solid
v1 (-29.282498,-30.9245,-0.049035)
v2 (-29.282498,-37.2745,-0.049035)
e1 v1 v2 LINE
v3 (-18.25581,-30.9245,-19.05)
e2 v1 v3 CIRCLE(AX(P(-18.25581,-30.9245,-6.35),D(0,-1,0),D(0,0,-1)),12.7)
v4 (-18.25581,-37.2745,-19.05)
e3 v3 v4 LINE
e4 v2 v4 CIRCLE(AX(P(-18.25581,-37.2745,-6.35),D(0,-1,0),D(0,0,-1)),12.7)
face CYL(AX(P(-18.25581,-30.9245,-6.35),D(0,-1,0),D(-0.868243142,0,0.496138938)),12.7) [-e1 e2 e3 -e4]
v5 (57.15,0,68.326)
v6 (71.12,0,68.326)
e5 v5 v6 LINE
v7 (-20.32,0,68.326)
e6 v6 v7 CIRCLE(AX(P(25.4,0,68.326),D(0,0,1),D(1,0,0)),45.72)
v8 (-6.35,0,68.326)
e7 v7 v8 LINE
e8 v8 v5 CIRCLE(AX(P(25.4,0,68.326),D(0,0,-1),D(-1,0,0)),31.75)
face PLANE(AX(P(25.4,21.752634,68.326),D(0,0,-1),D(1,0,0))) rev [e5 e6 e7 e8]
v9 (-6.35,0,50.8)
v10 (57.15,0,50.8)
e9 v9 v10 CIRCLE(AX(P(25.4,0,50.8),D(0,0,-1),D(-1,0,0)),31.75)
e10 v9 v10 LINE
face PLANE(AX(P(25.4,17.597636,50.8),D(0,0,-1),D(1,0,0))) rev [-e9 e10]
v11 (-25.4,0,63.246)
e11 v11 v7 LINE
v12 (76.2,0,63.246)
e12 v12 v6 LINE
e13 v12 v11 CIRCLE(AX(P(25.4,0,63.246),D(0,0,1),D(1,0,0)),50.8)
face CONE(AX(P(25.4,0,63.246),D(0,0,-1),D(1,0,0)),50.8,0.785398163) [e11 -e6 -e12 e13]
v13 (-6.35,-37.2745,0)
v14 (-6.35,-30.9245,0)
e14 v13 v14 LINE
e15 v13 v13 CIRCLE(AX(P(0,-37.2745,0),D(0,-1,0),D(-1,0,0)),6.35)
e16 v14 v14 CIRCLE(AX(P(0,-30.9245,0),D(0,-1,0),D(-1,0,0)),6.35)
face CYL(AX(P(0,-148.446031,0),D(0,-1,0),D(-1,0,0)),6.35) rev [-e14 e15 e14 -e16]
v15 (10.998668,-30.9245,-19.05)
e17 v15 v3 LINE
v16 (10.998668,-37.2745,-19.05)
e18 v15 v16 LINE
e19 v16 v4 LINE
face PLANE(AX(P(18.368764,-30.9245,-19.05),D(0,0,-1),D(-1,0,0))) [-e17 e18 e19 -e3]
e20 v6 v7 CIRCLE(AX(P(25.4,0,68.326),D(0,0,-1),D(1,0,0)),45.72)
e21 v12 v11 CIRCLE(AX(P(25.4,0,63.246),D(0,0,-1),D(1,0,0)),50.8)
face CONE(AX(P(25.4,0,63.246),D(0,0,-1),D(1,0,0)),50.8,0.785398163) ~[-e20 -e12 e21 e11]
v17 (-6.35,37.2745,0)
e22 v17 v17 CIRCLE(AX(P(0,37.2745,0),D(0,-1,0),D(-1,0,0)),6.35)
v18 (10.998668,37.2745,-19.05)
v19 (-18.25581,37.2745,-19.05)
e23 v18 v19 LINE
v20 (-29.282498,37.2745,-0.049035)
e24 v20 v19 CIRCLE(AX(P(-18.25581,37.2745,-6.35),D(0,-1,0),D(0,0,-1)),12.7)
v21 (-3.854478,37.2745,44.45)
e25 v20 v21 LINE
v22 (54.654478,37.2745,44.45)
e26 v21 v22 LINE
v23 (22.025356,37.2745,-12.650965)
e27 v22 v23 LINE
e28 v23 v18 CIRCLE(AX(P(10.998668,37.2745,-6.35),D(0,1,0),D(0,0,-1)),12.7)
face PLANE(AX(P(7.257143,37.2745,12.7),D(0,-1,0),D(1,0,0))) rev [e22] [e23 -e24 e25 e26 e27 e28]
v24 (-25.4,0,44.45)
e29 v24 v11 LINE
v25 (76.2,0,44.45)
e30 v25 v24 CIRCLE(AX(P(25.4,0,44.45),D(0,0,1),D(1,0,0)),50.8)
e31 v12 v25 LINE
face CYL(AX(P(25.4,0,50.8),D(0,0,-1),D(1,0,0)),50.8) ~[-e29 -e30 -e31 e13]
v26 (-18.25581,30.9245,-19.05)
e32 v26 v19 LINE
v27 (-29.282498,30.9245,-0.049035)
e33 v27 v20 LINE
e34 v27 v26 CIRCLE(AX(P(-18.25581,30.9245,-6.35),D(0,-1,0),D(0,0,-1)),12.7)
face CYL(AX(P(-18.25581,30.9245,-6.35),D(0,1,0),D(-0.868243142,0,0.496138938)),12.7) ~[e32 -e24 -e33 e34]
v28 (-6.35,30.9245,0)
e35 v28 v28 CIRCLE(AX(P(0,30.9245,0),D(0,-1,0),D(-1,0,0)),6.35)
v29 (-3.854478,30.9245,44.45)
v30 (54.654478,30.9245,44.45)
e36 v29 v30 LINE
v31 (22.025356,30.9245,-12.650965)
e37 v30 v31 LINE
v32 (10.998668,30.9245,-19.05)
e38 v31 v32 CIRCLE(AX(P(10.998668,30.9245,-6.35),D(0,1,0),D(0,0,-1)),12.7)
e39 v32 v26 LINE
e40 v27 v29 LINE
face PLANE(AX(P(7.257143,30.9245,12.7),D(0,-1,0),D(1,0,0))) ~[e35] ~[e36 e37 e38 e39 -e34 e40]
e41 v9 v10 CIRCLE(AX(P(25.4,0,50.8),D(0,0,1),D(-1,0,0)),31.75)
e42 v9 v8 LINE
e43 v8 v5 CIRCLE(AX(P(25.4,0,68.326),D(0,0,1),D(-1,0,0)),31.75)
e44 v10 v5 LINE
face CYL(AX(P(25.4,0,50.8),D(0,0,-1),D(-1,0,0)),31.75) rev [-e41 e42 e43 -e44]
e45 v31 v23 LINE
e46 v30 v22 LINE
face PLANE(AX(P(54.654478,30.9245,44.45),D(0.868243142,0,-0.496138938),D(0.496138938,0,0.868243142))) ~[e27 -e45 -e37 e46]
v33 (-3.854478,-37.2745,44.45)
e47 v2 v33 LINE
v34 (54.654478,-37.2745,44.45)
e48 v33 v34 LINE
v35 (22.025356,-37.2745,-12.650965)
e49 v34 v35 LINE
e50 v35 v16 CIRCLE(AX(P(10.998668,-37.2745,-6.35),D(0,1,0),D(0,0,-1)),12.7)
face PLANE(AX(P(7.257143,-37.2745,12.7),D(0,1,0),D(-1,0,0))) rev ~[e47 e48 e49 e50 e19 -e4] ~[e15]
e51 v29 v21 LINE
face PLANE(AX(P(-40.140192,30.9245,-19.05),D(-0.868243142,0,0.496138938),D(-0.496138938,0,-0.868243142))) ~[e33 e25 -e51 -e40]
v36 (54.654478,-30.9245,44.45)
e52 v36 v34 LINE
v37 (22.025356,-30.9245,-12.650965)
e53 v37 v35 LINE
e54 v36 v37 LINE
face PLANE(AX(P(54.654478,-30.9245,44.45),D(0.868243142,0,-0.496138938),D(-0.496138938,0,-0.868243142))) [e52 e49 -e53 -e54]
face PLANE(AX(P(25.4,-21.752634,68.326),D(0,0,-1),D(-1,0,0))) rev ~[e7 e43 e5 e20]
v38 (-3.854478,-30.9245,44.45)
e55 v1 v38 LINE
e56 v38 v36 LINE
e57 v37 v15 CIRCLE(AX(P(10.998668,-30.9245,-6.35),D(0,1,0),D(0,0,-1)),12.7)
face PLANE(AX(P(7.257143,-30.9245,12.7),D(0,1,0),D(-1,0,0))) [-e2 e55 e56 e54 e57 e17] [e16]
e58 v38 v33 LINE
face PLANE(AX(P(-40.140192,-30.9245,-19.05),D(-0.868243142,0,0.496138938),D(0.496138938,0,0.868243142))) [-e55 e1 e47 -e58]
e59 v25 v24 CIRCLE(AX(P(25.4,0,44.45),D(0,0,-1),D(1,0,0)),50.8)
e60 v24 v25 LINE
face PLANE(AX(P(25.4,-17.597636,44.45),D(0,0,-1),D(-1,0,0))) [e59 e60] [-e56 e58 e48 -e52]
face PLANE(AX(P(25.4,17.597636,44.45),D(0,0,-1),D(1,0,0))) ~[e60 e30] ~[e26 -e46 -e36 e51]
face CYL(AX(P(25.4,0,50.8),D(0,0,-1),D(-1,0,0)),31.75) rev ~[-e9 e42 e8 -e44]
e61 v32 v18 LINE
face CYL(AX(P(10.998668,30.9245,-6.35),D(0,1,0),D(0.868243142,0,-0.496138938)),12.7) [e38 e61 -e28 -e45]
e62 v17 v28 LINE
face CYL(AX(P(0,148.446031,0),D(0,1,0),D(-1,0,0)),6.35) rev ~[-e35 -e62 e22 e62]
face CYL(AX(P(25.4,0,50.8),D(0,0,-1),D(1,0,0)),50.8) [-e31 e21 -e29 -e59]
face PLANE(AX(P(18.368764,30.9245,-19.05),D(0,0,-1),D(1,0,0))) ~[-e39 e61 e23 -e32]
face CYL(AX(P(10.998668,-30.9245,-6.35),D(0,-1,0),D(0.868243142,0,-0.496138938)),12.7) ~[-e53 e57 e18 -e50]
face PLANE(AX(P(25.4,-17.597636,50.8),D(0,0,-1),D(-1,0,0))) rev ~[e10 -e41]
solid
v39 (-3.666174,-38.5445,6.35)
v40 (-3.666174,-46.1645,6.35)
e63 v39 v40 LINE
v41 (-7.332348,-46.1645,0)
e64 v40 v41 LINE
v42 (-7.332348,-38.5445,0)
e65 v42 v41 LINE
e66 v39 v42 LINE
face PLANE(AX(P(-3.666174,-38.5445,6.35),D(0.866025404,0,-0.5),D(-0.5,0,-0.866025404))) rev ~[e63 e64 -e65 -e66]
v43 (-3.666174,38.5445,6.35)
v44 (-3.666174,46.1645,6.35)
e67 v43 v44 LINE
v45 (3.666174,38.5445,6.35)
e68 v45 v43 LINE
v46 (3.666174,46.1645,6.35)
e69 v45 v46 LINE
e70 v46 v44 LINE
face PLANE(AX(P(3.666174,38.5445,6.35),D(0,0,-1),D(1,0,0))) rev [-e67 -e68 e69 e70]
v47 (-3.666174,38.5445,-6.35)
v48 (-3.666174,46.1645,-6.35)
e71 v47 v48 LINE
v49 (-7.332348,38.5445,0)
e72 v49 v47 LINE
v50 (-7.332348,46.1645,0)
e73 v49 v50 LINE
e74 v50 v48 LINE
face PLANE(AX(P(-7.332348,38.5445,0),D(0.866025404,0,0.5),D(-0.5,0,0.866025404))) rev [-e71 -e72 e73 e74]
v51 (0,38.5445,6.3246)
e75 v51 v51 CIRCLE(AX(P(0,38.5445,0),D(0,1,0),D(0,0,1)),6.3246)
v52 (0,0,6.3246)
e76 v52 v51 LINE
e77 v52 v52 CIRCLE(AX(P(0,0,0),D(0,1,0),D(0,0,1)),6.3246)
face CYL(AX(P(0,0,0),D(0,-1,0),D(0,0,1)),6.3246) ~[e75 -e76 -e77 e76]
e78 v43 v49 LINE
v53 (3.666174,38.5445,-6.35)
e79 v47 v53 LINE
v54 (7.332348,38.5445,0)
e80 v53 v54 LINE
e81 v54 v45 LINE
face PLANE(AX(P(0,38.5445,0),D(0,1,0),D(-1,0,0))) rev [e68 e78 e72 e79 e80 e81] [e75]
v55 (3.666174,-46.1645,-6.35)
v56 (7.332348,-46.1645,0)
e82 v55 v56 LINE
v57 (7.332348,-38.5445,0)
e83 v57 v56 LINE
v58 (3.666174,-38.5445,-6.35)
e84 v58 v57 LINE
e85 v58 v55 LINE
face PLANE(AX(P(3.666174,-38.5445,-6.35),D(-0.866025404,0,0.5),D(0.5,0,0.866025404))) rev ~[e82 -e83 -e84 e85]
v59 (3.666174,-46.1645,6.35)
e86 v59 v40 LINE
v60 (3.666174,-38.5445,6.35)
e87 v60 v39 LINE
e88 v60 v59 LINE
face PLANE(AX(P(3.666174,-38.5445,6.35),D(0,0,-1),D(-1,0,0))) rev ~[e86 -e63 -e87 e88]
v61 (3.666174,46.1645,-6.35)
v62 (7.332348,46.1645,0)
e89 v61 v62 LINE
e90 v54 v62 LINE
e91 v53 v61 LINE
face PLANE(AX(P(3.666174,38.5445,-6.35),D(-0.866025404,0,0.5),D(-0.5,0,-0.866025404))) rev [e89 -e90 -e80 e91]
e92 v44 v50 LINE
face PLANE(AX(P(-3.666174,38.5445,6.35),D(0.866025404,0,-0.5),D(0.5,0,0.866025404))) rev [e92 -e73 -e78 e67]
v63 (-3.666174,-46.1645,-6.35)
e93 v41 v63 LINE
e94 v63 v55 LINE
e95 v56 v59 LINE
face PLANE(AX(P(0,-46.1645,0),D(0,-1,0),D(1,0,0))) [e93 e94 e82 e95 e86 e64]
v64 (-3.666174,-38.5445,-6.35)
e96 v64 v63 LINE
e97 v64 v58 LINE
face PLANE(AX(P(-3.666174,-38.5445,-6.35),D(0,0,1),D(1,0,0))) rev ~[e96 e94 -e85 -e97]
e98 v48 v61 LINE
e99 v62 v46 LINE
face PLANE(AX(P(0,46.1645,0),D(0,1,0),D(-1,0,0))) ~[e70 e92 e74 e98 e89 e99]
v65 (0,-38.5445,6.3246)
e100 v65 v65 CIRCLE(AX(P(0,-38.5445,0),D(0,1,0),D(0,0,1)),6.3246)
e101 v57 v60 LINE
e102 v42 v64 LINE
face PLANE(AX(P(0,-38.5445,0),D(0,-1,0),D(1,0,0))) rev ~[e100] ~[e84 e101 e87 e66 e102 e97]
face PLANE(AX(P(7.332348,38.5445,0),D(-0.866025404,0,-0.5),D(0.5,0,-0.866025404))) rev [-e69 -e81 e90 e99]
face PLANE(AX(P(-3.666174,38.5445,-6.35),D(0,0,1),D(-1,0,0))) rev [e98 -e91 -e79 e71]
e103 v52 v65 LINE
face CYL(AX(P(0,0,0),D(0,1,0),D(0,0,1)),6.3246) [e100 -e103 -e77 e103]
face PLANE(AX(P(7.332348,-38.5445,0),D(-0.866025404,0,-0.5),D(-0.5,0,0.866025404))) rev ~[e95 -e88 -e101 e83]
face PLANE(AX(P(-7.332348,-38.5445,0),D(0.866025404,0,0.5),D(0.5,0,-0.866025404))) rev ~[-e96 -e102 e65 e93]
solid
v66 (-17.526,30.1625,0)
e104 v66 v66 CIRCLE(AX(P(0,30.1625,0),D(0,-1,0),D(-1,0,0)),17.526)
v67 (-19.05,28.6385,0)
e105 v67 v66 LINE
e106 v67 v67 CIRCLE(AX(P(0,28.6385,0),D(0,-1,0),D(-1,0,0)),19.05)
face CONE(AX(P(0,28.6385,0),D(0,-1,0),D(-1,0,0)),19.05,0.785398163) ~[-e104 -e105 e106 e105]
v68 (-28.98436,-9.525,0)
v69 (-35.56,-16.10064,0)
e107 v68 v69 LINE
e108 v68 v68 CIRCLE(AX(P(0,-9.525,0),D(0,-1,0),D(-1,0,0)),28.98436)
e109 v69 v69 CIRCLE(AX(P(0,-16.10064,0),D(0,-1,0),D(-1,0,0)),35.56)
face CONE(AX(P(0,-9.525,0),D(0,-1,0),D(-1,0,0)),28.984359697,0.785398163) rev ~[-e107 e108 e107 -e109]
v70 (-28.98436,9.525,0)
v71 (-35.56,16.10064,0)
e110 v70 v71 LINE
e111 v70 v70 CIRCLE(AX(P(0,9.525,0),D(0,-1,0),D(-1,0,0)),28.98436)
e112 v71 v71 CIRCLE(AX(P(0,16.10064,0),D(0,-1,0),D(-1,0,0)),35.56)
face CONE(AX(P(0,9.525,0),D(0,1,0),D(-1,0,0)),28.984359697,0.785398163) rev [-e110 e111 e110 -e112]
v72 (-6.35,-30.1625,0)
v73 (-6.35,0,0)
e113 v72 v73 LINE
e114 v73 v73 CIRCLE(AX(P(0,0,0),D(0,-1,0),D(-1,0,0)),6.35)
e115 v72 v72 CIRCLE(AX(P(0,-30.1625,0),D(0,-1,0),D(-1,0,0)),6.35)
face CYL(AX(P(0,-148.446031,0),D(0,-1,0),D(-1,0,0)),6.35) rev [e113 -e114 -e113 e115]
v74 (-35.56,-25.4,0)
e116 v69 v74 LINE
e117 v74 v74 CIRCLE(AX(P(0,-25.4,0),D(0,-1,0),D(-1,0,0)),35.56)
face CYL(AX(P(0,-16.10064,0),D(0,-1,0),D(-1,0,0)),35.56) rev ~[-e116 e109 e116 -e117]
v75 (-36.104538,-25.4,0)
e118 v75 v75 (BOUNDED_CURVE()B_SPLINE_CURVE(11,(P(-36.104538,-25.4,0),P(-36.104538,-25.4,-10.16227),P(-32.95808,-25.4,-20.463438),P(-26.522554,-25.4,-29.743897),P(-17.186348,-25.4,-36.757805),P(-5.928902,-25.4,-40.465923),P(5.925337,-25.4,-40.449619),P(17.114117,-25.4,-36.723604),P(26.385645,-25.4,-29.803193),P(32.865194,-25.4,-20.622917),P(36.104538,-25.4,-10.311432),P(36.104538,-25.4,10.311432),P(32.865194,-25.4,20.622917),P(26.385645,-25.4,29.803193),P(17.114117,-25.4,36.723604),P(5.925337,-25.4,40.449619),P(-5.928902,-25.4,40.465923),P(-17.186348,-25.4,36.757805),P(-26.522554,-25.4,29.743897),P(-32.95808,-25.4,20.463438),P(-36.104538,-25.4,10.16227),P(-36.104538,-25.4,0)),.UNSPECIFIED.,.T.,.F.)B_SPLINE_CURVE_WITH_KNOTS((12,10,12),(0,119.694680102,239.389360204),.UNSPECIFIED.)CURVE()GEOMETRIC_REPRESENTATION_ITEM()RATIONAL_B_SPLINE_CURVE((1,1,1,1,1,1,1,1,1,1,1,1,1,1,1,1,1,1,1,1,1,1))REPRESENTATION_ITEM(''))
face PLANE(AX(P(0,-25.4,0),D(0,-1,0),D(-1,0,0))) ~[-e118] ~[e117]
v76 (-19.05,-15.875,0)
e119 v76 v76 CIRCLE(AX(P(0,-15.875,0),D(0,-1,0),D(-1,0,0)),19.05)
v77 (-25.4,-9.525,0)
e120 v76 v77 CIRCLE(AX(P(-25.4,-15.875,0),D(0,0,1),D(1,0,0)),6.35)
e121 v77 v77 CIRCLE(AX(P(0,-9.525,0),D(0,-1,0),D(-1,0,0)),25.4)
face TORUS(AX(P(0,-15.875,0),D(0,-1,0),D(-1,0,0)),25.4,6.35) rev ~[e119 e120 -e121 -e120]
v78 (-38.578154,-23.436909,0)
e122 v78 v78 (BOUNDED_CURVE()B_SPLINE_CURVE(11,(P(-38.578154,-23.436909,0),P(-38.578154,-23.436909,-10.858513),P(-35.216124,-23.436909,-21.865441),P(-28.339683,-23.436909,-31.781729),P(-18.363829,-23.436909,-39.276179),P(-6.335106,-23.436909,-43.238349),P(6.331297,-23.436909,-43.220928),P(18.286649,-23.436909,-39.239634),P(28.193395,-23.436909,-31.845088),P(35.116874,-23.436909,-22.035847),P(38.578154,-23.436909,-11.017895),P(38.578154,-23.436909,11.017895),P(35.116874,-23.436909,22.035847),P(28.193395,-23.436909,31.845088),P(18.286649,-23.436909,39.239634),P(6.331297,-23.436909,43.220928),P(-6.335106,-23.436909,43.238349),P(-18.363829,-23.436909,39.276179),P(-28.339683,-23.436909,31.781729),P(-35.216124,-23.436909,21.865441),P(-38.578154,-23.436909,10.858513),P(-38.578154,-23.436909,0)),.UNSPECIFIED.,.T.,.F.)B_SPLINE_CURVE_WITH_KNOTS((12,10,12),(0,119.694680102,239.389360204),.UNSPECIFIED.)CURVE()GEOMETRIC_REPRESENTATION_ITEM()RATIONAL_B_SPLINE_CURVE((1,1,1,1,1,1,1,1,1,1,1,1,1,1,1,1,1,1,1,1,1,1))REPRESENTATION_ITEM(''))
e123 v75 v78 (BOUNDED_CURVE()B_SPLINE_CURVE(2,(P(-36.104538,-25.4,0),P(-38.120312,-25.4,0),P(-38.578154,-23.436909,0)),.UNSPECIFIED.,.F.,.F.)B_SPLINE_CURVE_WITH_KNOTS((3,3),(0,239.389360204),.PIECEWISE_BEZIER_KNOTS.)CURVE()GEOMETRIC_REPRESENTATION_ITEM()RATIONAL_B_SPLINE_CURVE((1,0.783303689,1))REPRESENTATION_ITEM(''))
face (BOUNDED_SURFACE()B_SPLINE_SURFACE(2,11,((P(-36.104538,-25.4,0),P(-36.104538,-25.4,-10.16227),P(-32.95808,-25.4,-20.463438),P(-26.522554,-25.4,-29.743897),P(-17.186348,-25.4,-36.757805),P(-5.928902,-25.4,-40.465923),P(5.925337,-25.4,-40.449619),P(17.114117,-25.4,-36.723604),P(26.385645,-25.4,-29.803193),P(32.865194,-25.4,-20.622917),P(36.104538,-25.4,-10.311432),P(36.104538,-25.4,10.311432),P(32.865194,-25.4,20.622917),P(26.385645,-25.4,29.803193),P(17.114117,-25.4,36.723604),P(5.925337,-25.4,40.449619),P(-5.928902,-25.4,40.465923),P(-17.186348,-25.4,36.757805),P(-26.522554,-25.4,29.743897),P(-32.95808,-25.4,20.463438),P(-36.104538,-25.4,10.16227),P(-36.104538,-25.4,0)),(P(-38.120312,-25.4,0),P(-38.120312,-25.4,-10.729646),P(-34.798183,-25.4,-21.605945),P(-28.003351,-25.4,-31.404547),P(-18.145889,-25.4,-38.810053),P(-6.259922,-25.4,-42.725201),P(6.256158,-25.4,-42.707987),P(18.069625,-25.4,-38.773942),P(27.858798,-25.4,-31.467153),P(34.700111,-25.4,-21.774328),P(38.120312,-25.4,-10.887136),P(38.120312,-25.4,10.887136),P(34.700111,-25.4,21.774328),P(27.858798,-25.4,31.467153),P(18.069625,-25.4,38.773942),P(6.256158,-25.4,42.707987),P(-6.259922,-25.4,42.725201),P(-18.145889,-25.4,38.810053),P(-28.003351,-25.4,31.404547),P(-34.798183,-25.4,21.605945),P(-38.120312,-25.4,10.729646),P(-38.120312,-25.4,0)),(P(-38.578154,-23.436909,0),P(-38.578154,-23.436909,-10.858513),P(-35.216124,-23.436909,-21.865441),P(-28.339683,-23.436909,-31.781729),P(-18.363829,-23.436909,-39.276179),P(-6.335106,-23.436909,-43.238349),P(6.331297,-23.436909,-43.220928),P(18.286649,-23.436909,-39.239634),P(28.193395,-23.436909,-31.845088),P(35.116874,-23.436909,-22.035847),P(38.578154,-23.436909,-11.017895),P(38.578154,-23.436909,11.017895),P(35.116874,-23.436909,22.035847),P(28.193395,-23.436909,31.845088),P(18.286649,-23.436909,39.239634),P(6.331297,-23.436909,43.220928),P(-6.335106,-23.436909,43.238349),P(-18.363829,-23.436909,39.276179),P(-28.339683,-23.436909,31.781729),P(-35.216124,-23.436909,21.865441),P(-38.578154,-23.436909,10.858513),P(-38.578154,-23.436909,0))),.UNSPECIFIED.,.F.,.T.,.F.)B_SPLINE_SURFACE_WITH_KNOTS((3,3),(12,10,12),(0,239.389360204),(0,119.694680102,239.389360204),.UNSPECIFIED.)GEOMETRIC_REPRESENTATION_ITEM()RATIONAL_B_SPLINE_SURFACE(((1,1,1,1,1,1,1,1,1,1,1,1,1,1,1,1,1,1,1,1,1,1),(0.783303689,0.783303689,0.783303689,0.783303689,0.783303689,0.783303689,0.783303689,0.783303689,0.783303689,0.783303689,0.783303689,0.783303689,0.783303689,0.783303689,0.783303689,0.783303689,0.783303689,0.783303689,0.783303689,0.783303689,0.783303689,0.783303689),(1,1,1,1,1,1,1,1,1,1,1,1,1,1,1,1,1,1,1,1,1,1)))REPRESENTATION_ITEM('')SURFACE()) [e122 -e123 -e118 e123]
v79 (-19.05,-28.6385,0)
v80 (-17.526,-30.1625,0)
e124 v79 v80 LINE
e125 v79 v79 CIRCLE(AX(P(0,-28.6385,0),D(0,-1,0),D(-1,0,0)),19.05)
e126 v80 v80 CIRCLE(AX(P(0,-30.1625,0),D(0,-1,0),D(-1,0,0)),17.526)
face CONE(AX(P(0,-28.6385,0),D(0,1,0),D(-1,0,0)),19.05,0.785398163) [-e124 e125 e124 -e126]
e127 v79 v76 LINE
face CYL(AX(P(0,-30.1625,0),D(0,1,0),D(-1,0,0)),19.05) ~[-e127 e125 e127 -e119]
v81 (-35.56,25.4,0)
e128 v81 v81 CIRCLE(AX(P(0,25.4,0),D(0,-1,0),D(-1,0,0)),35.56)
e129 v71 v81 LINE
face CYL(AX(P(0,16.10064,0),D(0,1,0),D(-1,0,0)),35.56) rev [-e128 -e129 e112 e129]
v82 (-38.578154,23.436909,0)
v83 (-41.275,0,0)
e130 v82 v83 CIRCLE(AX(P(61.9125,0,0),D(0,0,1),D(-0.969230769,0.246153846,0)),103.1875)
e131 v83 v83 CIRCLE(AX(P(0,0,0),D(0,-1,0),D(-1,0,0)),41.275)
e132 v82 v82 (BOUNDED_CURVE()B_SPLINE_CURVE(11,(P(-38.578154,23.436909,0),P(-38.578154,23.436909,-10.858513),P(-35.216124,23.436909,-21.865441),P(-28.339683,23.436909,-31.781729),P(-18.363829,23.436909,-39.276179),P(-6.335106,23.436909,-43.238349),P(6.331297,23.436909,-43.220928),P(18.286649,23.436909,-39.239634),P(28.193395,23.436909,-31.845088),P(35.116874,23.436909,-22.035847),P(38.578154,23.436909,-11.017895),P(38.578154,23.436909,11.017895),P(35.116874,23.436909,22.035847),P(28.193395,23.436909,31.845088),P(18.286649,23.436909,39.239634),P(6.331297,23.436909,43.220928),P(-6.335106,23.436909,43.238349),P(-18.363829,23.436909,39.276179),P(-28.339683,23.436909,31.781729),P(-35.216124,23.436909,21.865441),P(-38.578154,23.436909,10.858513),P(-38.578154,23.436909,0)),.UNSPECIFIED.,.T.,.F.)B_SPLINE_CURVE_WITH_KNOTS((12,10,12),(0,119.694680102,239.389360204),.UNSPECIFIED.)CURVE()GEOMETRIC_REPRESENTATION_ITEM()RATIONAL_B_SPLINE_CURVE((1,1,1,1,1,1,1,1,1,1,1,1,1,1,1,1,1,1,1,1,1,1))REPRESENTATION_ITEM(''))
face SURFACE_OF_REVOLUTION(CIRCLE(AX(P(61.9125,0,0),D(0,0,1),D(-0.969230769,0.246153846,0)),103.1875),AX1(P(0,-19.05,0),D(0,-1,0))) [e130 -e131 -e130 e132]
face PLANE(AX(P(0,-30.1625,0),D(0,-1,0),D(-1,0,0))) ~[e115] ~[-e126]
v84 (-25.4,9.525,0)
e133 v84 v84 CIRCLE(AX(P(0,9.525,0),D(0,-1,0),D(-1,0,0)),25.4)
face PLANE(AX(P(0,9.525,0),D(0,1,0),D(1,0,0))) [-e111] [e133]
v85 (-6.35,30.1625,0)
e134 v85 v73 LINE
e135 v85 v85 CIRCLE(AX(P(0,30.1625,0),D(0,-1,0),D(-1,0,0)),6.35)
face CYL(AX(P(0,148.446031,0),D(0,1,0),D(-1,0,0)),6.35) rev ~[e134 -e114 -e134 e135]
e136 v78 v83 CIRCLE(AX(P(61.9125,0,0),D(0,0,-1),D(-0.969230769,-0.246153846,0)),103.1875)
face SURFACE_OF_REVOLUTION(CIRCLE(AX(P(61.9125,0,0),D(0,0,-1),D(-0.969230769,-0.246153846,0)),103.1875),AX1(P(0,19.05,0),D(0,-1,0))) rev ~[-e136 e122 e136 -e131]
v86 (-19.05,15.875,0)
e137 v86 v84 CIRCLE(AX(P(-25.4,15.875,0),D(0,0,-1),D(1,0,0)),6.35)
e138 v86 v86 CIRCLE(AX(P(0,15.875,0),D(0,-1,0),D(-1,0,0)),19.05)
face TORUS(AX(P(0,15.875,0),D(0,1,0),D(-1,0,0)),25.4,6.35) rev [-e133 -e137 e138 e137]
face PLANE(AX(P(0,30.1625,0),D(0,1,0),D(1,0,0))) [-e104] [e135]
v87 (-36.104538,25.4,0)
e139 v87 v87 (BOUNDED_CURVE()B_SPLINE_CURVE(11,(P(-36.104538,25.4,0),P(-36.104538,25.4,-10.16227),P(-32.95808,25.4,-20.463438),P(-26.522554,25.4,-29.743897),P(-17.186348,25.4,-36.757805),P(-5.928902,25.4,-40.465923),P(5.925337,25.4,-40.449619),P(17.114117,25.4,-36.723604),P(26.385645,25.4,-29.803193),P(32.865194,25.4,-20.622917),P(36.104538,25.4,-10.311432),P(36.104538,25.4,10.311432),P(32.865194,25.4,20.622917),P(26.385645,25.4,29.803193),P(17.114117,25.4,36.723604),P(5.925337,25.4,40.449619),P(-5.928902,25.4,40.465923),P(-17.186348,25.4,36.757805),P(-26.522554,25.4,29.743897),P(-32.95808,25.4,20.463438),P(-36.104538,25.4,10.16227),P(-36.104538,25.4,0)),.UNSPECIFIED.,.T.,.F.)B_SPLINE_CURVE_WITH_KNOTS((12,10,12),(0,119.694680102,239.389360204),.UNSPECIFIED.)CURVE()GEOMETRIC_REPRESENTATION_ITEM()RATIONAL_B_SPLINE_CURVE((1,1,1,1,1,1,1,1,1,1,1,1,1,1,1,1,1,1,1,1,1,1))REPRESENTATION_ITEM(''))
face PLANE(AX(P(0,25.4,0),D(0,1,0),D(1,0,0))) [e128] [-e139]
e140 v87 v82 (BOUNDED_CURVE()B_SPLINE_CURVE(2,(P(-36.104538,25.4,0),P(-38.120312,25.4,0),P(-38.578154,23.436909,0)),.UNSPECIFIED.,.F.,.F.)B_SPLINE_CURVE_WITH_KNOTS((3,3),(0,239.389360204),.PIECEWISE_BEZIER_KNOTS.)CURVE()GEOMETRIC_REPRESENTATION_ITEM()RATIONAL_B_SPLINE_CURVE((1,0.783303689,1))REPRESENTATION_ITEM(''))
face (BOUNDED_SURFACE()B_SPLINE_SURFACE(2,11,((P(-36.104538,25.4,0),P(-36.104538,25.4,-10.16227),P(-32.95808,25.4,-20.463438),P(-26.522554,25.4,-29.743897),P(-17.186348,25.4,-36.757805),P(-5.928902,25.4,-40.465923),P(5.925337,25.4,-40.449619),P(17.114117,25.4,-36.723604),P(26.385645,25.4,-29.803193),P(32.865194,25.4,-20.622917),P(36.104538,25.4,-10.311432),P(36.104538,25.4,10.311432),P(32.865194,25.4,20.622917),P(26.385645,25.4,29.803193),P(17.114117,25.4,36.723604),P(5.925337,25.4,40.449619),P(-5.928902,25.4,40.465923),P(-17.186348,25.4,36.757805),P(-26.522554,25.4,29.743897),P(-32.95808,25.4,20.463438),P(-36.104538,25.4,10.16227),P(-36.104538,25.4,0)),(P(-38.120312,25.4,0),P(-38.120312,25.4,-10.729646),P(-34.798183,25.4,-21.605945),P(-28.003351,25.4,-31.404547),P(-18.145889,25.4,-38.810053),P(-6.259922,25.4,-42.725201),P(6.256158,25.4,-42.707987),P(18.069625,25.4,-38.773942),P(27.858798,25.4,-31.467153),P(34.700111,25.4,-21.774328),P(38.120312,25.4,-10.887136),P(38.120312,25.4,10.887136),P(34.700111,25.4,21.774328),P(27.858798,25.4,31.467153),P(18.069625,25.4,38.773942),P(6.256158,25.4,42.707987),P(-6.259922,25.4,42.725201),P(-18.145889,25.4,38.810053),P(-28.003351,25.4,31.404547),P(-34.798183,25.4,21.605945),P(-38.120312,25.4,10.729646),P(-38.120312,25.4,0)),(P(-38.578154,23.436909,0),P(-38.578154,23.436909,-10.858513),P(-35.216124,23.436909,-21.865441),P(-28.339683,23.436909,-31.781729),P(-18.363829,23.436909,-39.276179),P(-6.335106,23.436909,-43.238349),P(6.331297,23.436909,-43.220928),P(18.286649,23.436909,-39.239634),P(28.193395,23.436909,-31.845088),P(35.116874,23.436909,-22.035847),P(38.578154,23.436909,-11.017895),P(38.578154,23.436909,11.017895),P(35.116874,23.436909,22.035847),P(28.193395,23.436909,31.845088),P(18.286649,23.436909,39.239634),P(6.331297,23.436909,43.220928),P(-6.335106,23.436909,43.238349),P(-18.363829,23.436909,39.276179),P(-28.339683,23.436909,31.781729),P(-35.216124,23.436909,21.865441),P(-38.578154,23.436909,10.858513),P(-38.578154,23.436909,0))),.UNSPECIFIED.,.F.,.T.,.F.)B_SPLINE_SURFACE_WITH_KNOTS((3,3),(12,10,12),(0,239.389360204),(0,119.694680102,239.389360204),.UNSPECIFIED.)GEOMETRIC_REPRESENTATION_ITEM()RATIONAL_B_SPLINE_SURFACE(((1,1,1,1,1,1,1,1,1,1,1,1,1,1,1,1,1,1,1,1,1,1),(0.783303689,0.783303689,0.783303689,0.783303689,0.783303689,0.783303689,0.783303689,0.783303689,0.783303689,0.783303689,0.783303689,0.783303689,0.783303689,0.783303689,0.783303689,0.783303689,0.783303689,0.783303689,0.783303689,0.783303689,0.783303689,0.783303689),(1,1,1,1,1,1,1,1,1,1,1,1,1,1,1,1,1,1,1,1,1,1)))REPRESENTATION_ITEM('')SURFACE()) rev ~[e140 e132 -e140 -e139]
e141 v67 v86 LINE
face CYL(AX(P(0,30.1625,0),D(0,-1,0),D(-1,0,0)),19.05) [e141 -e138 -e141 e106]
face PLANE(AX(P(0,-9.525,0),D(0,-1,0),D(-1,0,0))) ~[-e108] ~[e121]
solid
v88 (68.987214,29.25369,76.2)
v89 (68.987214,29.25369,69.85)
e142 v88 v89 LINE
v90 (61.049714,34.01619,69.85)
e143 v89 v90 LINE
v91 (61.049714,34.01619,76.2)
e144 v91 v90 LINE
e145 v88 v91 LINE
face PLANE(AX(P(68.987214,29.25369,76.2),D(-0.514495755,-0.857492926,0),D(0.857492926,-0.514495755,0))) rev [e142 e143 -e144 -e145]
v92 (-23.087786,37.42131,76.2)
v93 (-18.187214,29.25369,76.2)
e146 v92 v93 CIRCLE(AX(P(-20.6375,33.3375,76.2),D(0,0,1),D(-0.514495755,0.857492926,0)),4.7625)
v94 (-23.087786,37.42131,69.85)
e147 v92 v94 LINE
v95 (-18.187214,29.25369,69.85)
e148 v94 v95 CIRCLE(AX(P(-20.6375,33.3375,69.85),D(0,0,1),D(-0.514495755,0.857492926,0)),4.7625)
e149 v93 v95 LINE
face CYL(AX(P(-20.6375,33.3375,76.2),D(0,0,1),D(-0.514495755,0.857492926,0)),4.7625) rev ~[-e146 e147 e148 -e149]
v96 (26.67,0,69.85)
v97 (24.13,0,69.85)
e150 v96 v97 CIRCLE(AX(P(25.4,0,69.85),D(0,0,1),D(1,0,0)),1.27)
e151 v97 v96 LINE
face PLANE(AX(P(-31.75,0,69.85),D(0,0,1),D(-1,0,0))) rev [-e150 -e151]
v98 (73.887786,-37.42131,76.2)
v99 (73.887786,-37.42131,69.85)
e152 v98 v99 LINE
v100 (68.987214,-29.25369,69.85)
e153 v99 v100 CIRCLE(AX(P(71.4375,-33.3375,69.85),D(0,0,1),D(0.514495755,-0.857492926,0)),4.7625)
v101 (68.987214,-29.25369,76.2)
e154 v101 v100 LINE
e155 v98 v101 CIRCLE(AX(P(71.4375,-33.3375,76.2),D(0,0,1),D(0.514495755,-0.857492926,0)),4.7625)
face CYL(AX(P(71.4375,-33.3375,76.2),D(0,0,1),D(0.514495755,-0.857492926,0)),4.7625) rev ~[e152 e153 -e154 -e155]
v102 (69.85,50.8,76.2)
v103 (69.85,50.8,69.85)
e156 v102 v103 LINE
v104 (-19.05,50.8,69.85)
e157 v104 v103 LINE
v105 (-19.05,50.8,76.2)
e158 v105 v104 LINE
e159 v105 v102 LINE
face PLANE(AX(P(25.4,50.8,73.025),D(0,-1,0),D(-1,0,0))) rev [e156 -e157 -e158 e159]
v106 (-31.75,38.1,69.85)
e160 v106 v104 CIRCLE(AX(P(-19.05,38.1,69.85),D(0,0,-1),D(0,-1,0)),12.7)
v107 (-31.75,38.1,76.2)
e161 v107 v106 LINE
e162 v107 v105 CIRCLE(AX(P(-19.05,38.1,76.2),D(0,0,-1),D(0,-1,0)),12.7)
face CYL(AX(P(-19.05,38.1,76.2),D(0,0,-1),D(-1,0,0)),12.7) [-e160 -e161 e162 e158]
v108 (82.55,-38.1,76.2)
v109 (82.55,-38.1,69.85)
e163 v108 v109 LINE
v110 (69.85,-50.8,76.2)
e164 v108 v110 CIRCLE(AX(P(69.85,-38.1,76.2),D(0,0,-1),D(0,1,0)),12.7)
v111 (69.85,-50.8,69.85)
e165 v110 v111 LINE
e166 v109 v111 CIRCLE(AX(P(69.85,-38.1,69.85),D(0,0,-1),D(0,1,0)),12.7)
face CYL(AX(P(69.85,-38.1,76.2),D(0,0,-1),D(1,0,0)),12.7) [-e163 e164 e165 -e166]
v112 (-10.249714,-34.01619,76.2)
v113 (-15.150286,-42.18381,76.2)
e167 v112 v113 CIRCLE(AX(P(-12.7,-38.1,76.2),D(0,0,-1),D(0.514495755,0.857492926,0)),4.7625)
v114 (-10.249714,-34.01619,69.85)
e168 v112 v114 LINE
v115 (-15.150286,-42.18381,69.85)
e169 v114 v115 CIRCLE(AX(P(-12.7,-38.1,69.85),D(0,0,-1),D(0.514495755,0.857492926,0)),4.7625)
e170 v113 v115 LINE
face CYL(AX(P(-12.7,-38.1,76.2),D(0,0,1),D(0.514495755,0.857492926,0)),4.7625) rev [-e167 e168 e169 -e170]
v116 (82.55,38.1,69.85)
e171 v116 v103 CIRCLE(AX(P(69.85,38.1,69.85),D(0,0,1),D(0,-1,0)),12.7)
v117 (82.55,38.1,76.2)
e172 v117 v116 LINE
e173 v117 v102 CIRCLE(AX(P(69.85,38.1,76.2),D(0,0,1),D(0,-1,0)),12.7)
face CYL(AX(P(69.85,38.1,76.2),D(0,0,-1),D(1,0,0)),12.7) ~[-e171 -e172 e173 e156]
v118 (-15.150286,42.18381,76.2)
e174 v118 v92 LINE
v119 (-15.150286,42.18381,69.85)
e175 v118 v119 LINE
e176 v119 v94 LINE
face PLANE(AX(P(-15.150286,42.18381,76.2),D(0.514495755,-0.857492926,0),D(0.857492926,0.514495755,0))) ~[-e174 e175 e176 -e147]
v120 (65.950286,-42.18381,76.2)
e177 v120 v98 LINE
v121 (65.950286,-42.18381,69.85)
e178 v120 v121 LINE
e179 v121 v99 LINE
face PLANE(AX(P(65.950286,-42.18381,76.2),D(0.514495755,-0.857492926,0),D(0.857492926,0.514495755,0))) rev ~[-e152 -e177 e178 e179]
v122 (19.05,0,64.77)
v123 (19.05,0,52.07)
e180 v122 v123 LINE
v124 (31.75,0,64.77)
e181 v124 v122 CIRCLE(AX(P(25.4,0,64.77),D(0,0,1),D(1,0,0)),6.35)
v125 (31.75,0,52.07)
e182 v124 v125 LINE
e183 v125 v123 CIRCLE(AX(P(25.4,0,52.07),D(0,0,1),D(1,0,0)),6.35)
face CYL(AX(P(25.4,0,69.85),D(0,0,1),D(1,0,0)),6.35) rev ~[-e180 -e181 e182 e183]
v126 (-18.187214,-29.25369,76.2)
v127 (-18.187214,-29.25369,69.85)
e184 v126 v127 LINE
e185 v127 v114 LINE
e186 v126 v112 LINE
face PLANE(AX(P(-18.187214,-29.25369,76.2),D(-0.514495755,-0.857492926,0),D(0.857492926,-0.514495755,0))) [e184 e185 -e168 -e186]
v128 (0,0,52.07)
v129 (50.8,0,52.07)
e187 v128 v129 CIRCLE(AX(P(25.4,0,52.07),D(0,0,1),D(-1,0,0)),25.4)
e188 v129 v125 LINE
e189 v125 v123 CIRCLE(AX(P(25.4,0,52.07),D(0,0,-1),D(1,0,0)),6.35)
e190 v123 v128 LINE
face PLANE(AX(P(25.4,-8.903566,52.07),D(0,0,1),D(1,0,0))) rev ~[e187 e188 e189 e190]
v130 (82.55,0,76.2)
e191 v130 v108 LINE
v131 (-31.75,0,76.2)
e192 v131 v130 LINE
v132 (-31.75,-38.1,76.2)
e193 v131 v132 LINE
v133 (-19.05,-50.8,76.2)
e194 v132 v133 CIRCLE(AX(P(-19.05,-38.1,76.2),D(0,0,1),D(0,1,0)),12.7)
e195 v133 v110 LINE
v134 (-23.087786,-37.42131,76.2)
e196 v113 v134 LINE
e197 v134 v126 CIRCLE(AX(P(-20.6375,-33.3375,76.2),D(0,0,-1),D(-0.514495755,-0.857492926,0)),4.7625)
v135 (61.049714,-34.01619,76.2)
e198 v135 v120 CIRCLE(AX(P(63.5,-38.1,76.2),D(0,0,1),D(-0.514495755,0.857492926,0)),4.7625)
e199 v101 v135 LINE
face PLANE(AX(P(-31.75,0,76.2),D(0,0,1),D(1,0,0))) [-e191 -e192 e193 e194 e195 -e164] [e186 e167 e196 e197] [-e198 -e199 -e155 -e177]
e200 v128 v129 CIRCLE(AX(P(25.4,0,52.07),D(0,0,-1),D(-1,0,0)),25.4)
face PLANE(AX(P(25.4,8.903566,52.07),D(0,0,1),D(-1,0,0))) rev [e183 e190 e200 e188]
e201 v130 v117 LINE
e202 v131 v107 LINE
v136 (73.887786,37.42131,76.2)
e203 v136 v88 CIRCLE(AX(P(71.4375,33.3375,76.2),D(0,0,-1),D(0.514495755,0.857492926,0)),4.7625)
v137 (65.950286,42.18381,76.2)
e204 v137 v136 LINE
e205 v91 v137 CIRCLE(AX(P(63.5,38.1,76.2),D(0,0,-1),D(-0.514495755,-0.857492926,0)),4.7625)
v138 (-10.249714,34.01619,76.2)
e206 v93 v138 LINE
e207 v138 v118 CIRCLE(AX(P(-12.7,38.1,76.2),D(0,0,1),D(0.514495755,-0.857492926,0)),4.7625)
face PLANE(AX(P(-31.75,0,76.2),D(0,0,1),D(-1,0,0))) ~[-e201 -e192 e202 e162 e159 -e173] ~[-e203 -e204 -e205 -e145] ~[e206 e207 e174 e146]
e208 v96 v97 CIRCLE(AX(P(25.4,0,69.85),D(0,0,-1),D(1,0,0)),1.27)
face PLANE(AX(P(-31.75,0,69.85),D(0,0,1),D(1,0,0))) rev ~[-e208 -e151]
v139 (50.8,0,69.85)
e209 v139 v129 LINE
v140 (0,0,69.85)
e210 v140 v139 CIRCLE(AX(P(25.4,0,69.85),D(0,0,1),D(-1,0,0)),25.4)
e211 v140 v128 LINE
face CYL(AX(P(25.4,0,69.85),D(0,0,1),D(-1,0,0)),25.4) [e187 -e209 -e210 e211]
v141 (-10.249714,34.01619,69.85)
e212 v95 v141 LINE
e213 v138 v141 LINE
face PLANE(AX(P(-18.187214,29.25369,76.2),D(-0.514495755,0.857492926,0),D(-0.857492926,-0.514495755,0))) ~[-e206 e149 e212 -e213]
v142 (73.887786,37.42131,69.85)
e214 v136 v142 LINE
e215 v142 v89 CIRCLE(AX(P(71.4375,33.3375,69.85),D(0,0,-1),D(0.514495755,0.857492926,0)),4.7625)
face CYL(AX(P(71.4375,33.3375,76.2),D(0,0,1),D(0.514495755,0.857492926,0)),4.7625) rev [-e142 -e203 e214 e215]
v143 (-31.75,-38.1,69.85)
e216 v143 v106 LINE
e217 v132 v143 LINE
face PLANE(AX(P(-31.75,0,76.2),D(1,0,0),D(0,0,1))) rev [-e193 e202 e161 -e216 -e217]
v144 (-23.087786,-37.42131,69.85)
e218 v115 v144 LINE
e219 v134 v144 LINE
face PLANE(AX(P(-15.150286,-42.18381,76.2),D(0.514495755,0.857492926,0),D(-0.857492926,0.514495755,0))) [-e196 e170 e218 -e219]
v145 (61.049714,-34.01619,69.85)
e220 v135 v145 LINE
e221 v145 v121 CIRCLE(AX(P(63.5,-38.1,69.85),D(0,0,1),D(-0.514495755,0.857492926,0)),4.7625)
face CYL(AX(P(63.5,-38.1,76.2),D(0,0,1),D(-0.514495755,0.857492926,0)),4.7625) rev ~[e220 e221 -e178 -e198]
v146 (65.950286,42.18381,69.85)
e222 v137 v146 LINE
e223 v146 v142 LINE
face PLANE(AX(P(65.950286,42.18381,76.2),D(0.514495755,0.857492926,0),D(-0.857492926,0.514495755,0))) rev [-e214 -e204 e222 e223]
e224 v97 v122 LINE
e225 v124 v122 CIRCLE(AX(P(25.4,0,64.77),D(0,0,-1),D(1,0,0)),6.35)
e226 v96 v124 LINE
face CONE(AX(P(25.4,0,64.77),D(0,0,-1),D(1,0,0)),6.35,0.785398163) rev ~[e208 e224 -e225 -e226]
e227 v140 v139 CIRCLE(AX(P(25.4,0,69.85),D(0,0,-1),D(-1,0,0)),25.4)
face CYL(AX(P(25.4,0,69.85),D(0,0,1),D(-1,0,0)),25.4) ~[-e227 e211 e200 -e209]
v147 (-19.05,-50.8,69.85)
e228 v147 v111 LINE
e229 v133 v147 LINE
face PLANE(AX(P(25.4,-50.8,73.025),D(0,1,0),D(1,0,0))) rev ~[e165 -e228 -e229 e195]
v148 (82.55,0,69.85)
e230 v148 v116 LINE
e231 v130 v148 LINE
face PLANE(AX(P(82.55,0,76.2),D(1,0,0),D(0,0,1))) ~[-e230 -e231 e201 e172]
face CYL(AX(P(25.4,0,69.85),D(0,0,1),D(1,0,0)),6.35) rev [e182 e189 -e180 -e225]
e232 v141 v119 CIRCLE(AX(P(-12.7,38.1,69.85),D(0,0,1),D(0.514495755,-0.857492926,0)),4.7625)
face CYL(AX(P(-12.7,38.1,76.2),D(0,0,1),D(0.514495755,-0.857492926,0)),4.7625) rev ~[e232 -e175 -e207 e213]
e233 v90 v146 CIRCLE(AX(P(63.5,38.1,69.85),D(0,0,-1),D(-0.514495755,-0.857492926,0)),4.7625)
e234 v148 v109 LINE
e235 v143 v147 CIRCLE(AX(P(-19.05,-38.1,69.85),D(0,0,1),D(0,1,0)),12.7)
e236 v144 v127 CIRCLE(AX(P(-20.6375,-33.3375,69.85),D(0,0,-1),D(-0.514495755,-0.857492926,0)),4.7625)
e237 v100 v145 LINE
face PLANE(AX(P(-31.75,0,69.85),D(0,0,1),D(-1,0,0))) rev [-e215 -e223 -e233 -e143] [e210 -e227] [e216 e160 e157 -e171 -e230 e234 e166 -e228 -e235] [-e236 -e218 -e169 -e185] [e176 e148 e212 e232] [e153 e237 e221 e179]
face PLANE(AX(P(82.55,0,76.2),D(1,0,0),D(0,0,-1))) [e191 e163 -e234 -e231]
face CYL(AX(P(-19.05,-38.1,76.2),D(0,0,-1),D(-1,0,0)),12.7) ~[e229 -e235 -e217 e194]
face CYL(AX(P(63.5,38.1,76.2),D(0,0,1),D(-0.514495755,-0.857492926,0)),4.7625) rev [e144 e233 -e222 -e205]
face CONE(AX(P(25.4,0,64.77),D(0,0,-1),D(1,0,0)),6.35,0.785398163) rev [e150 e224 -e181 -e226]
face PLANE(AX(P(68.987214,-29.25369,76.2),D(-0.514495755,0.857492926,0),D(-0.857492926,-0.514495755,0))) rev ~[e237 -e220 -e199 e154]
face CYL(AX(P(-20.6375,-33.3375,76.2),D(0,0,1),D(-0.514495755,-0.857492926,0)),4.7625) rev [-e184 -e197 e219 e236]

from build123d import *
from build123d.topology import SkipClean

# Parameters (mm, degrees)
FILLET4_R               = 2.54
CHAMFER1_SIZE           = 1.524
EXTRUDE1_DEPTH          = 6.35
FILLET5_R               = 12.7
SKETCH7_W               = 114.3
SKETCH7_H               = 6.35
EXTRUDE2_DEPTH          = 50.8
EXTRUDE8_DEPTH          = 6.35
EXTRUDE3_DEPTH          = 17.526
CHAMFER2_SIZE           = 5.08
EXTRUDE4_DEPTH          = 17.78
CHAMFER3_SIZE           = 5.08
CUT_EXTRUDE1_DEPTH      = 6.35
FILLET1_R               = 12.7
CUT_EXTRUDE2_DEPTH      = 117.521531085
CUT_EXTRUDE2_DEPTH_BACK = 117.521531085
SKETCH11_R              = 6.35
SKETCH12_R              = 6.3246
EXTRUDE5_DEPTH          = 38.5445
EXTRUDE6_DEPTH          = 7.62


with BuildPart() as part:
    # Sketch1 → Revolve1 (revolve)
    with BuildSketch(Plane.XY, mode=Mode.PRIVATE) as revolve1_sk:
        with BuildLine():
            Line((0, 0), (0, -30.1625))
            Line((0, -30.1625), (19.05, -30.1625))
            Line((19.05, -30.1625), (19.05, -15.875))
            ThreePointArc((19.05, -15.875), (20.909871939, -11.384871939), (25.4, -9.525))
            Line((25.4, -9.525), (28.984359697, -9.525))
            Line((28.984359697, -9.525), (35.56, -16.100640303))
            Line((35.56, -16.100640303), (35.56, -25.4))
            Line((35.56, -25.4), (38.1, -25.4))
            ThreePointArc((38.1, -25.4), (40.478173403, -12.798834175), (41.275, 0))
            Line((41.275, 0), (0, 0))
        make_face()
    revolve(revolve1_sk.sketch.rotate(Axis((0, 19.05, 0), (0, -1, 0)), 180), axis=Axis((0, 19.05, 0), (0, -1, 0)))

    # Fillet4
    fillet4_edges = [part.edges().sort_by_distance(p)[0] for p in [
        (38.1, -25.4, 0),
    ]]
    fillet(fillet4_edges, radius=FILLET4_R)

    # Chamfer1
    chamfer1_edges = [part.edges().sort_by_distance(p)[0] for p in [
        (19.05, -30.1625, 0),
    ]]
    chamfer(chamfer1_edges, length=CHAMFER1_SIZE)


with BuildPart() as body_2:
    # Sketch3 → Extrude1 (new body)
    with BuildSketch(Plane.XZ.offset(30.9245)):
        Polygon((-40.140192401, -19.05), (-3.854478115, 44.45), (54.654478115, 44.45), (18.36876383, -19.05), align=None)
    extrude(amount=EXTRUDE1_DEPTH)

    # Fillet5
    fillet5_edges = [body_2.edges().sort_by_distance(p)[0] for p in [
        (-40.140192401, -34.0995, -19.05),
        (18.36876383, -34.0995, -19.05),
    ]]
    fillet(fillet5_edges, radius=FILLET5_R)

    # Sketch20 → Extrude8 (add)
    with BuildSketch(Plane.XY.offset(44.45)):
        with BuildLine():
            Line((-25.4, 0), (76.2, 0))
            ThreePointArc((76.2, 0), (25.4, -50.8), (-25.4, 0))
        make_face()
    extrude(amount=EXTRUDE8_DEPTH)

    # Sketch8 → Extrude3 (add)
    with BuildSketch(Plane.XY.offset(50.8)):
        with BuildLine():
            Line((-25.4, 0), (-6.35, 0))
            ThreePointArc((-6.35, 0), (25.4, -31.75), (57.15, 0))
            Line((57.15, 0), (76.2, 0))
            ThreePointArc((76.2, 0), (25.4, -50.8), (-25.4, 0))
        make_face()
    extrude(amount=EXTRUDE3_DEPTH)

    # Chamfer2
    chamfer2_edges = [body_2.edges().sort_by_distance(p)[0] for p in [
        (25.4, -50.8, 68.326),
    ]]
    chamfer(chamfer2_edges, length=CHAMFER2_SIZE)


with BuildPart() as body_3:
    # Sketch7 → Extrude2 (new body)
    with BuildSketch(Plane(origin=(0, 0, 0), x_dir=(1, 0, 0), z_dir=(0, 1, 0))):
        with Locations((25.4, -73.025)):
            Rectangle(SKETCH7_W, SKETCH7_H)
    extrude(amount=-EXTRUDE2_DEPTH)

    # Sketch9 → Extrude4 (add)
    with BuildSketch(Plane(origin=(0, 0, 69.85), x_dir=(-1, 0, 0), z_dir=(0, 0, -1))):
        with BuildLine():
            Line((-50.8, 0), (-31.75, 0))
            ThreePointArc((-31.75, 0), (-25.4, -6.35), (-19.05, 0))
            Line((-19.05, 0), (0, 0))
            ThreePointArc((0, 0), (-25.4, -25.4), (-50.8, 0))
        make_face()
    extrude(amount=EXTRUDE4_DEPTH)

    # Chamfer3
    chamfer3_edges = [body_3.edges().sort_by_distance(p)[0] for p in [
        (25.4, -6.35, 69.85),
    ]]
    chamfer(chamfer3_edges, length=CHAMFER3_SIZE)

    # Sketch10 → Cut-Extrude1 (cut)
    with BuildSketch(Plane.XY.offset(76.2)):
        with BuildLine():
            Line((-18.187213965, -29.253689941), (-10.249713965, -34.016189941))
            ThreePointArc((-10.249713965, -34.016189941), (-8.616189941, -40.550286035), (-15.150286035, -42.183810059))
            Line((-15.150286035, -42.183810059), (-23.087786035, -37.421310059))
            ThreePointArc((-23.087786035, -37.421310059), (-24.721310059, -30.887213965), (-18.187213965, -29.253689941))
        make_face()
        with BuildLine():
            Line((65.950286035, -42.183810059), (73.887786035, -37.421310059))
            ThreePointArc((73.887786035, -37.421310059), (75.521310059, -30.887213965), (68.987213965, -29.253689941))
            Line((68.987213965, -29.253689941), (61.049713965, -34.016189941))
            ThreePointArc((61.049713965, -34.016189941), (59.416189941, -40.550286035), (65.950286035, -42.183810059))
        make_face()
    extrude(amount=-CUT_EXTRUDE1_DEPTH, mode=Mode.SUBTRACT)

    # Fillet1
    fillet1_edges = [body_3.edges().sort_by_distance(p)[0] for p in [
        (82.55, -50.8, 73.025),
        (-31.75, -50.8, 73.025),
    ]]
    fillet(fillet1_edges, radius=FILLET1_R)

    # Mirror1: body 3 across plane


with BuildPart() as cut_extrude2_tool:
    # Sketch11 → Cut-Extrude2 (new, two sides: drawn at the far end of the back side and taken through both)
    with BuildSketch(Plane(origin=(0, -30.9245, 0), x_dir=(-1, 0, 0), z_dir=(0, 1, 0)).offset(-CUT_EXTRUDE2_DEPTH_BACK)):
        Circle(SKETCH11_R)
    extrude(amount=CUT_EXTRUDE2_DEPTH + CUT_EXTRUDE2_DEPTH_BACK)


with BuildPart() as part_1:
    add(part.part)

    # Cut-Extrude2: cut by cut_extrude2_tool
    add(cut_extrude2_tool.part, mode=Mode.SUBTRACT)

    # Mirror1 2: part across plane


with BuildPart() as body_2_1:
    add(body_2.part)

    # Cut-Extrude2: cut by cut_extrude2_tool
    add(cut_extrude2_tool.part, mode=Mode.SUBTRACT)

    # Mirror1 3: body 2 across plane


with BuildPart() as body_4:
    # Sketch12 → Extrude5 (new body)
    with BuildSketch(Plane(origin=(0, 0, 0), x_dir=(-1, 0, 0), z_dir=(0, 1, 0))):
        with Locations(Location((0, 0, 0), (0, 0, 90))):
            Circle(SKETCH12_R)
    extrude(amount=-EXTRUDE5_DEPTH)

    # Sketch13 → Extrude6 (add)
    with BuildSketch(Plane.XZ.offset(38.5445)):
        Polygon((3.666174209, 6.35), (-3.666174209, 6.35), (-7.332348419, 0), (-3.666174209, -6.35), (3.666174209, -6.35), (7.332348419, 0), align=None)
    extrude(amount=EXTRUDE6_DEPTH)

    # Mirror1 4: body 4 across plane


with BuildPart() as body_3_1:
    add(body_3.part)
    add(body_3.part.mirror(Plane.ZX))


with BuildPart() as part_2:
    add(part_1.part)
    add(part_1.part.mirror(Plane.ZX))


with BuildPart() as body_2_2:
    with SkipClean():  # the faces are left unmerged after this step: merging them gives an invalid solid
        add(body_2_1.part)
        add(body_2_1.part.mirror(Plane.ZX))


with BuildPart() as body_4_1:
    add(body_4.part)
    add(body_4.part.mirror(Plane.ZX))


solid = Compound([body_3_1.part, part_2.part, body_2_2.part, body_4_1.part])
